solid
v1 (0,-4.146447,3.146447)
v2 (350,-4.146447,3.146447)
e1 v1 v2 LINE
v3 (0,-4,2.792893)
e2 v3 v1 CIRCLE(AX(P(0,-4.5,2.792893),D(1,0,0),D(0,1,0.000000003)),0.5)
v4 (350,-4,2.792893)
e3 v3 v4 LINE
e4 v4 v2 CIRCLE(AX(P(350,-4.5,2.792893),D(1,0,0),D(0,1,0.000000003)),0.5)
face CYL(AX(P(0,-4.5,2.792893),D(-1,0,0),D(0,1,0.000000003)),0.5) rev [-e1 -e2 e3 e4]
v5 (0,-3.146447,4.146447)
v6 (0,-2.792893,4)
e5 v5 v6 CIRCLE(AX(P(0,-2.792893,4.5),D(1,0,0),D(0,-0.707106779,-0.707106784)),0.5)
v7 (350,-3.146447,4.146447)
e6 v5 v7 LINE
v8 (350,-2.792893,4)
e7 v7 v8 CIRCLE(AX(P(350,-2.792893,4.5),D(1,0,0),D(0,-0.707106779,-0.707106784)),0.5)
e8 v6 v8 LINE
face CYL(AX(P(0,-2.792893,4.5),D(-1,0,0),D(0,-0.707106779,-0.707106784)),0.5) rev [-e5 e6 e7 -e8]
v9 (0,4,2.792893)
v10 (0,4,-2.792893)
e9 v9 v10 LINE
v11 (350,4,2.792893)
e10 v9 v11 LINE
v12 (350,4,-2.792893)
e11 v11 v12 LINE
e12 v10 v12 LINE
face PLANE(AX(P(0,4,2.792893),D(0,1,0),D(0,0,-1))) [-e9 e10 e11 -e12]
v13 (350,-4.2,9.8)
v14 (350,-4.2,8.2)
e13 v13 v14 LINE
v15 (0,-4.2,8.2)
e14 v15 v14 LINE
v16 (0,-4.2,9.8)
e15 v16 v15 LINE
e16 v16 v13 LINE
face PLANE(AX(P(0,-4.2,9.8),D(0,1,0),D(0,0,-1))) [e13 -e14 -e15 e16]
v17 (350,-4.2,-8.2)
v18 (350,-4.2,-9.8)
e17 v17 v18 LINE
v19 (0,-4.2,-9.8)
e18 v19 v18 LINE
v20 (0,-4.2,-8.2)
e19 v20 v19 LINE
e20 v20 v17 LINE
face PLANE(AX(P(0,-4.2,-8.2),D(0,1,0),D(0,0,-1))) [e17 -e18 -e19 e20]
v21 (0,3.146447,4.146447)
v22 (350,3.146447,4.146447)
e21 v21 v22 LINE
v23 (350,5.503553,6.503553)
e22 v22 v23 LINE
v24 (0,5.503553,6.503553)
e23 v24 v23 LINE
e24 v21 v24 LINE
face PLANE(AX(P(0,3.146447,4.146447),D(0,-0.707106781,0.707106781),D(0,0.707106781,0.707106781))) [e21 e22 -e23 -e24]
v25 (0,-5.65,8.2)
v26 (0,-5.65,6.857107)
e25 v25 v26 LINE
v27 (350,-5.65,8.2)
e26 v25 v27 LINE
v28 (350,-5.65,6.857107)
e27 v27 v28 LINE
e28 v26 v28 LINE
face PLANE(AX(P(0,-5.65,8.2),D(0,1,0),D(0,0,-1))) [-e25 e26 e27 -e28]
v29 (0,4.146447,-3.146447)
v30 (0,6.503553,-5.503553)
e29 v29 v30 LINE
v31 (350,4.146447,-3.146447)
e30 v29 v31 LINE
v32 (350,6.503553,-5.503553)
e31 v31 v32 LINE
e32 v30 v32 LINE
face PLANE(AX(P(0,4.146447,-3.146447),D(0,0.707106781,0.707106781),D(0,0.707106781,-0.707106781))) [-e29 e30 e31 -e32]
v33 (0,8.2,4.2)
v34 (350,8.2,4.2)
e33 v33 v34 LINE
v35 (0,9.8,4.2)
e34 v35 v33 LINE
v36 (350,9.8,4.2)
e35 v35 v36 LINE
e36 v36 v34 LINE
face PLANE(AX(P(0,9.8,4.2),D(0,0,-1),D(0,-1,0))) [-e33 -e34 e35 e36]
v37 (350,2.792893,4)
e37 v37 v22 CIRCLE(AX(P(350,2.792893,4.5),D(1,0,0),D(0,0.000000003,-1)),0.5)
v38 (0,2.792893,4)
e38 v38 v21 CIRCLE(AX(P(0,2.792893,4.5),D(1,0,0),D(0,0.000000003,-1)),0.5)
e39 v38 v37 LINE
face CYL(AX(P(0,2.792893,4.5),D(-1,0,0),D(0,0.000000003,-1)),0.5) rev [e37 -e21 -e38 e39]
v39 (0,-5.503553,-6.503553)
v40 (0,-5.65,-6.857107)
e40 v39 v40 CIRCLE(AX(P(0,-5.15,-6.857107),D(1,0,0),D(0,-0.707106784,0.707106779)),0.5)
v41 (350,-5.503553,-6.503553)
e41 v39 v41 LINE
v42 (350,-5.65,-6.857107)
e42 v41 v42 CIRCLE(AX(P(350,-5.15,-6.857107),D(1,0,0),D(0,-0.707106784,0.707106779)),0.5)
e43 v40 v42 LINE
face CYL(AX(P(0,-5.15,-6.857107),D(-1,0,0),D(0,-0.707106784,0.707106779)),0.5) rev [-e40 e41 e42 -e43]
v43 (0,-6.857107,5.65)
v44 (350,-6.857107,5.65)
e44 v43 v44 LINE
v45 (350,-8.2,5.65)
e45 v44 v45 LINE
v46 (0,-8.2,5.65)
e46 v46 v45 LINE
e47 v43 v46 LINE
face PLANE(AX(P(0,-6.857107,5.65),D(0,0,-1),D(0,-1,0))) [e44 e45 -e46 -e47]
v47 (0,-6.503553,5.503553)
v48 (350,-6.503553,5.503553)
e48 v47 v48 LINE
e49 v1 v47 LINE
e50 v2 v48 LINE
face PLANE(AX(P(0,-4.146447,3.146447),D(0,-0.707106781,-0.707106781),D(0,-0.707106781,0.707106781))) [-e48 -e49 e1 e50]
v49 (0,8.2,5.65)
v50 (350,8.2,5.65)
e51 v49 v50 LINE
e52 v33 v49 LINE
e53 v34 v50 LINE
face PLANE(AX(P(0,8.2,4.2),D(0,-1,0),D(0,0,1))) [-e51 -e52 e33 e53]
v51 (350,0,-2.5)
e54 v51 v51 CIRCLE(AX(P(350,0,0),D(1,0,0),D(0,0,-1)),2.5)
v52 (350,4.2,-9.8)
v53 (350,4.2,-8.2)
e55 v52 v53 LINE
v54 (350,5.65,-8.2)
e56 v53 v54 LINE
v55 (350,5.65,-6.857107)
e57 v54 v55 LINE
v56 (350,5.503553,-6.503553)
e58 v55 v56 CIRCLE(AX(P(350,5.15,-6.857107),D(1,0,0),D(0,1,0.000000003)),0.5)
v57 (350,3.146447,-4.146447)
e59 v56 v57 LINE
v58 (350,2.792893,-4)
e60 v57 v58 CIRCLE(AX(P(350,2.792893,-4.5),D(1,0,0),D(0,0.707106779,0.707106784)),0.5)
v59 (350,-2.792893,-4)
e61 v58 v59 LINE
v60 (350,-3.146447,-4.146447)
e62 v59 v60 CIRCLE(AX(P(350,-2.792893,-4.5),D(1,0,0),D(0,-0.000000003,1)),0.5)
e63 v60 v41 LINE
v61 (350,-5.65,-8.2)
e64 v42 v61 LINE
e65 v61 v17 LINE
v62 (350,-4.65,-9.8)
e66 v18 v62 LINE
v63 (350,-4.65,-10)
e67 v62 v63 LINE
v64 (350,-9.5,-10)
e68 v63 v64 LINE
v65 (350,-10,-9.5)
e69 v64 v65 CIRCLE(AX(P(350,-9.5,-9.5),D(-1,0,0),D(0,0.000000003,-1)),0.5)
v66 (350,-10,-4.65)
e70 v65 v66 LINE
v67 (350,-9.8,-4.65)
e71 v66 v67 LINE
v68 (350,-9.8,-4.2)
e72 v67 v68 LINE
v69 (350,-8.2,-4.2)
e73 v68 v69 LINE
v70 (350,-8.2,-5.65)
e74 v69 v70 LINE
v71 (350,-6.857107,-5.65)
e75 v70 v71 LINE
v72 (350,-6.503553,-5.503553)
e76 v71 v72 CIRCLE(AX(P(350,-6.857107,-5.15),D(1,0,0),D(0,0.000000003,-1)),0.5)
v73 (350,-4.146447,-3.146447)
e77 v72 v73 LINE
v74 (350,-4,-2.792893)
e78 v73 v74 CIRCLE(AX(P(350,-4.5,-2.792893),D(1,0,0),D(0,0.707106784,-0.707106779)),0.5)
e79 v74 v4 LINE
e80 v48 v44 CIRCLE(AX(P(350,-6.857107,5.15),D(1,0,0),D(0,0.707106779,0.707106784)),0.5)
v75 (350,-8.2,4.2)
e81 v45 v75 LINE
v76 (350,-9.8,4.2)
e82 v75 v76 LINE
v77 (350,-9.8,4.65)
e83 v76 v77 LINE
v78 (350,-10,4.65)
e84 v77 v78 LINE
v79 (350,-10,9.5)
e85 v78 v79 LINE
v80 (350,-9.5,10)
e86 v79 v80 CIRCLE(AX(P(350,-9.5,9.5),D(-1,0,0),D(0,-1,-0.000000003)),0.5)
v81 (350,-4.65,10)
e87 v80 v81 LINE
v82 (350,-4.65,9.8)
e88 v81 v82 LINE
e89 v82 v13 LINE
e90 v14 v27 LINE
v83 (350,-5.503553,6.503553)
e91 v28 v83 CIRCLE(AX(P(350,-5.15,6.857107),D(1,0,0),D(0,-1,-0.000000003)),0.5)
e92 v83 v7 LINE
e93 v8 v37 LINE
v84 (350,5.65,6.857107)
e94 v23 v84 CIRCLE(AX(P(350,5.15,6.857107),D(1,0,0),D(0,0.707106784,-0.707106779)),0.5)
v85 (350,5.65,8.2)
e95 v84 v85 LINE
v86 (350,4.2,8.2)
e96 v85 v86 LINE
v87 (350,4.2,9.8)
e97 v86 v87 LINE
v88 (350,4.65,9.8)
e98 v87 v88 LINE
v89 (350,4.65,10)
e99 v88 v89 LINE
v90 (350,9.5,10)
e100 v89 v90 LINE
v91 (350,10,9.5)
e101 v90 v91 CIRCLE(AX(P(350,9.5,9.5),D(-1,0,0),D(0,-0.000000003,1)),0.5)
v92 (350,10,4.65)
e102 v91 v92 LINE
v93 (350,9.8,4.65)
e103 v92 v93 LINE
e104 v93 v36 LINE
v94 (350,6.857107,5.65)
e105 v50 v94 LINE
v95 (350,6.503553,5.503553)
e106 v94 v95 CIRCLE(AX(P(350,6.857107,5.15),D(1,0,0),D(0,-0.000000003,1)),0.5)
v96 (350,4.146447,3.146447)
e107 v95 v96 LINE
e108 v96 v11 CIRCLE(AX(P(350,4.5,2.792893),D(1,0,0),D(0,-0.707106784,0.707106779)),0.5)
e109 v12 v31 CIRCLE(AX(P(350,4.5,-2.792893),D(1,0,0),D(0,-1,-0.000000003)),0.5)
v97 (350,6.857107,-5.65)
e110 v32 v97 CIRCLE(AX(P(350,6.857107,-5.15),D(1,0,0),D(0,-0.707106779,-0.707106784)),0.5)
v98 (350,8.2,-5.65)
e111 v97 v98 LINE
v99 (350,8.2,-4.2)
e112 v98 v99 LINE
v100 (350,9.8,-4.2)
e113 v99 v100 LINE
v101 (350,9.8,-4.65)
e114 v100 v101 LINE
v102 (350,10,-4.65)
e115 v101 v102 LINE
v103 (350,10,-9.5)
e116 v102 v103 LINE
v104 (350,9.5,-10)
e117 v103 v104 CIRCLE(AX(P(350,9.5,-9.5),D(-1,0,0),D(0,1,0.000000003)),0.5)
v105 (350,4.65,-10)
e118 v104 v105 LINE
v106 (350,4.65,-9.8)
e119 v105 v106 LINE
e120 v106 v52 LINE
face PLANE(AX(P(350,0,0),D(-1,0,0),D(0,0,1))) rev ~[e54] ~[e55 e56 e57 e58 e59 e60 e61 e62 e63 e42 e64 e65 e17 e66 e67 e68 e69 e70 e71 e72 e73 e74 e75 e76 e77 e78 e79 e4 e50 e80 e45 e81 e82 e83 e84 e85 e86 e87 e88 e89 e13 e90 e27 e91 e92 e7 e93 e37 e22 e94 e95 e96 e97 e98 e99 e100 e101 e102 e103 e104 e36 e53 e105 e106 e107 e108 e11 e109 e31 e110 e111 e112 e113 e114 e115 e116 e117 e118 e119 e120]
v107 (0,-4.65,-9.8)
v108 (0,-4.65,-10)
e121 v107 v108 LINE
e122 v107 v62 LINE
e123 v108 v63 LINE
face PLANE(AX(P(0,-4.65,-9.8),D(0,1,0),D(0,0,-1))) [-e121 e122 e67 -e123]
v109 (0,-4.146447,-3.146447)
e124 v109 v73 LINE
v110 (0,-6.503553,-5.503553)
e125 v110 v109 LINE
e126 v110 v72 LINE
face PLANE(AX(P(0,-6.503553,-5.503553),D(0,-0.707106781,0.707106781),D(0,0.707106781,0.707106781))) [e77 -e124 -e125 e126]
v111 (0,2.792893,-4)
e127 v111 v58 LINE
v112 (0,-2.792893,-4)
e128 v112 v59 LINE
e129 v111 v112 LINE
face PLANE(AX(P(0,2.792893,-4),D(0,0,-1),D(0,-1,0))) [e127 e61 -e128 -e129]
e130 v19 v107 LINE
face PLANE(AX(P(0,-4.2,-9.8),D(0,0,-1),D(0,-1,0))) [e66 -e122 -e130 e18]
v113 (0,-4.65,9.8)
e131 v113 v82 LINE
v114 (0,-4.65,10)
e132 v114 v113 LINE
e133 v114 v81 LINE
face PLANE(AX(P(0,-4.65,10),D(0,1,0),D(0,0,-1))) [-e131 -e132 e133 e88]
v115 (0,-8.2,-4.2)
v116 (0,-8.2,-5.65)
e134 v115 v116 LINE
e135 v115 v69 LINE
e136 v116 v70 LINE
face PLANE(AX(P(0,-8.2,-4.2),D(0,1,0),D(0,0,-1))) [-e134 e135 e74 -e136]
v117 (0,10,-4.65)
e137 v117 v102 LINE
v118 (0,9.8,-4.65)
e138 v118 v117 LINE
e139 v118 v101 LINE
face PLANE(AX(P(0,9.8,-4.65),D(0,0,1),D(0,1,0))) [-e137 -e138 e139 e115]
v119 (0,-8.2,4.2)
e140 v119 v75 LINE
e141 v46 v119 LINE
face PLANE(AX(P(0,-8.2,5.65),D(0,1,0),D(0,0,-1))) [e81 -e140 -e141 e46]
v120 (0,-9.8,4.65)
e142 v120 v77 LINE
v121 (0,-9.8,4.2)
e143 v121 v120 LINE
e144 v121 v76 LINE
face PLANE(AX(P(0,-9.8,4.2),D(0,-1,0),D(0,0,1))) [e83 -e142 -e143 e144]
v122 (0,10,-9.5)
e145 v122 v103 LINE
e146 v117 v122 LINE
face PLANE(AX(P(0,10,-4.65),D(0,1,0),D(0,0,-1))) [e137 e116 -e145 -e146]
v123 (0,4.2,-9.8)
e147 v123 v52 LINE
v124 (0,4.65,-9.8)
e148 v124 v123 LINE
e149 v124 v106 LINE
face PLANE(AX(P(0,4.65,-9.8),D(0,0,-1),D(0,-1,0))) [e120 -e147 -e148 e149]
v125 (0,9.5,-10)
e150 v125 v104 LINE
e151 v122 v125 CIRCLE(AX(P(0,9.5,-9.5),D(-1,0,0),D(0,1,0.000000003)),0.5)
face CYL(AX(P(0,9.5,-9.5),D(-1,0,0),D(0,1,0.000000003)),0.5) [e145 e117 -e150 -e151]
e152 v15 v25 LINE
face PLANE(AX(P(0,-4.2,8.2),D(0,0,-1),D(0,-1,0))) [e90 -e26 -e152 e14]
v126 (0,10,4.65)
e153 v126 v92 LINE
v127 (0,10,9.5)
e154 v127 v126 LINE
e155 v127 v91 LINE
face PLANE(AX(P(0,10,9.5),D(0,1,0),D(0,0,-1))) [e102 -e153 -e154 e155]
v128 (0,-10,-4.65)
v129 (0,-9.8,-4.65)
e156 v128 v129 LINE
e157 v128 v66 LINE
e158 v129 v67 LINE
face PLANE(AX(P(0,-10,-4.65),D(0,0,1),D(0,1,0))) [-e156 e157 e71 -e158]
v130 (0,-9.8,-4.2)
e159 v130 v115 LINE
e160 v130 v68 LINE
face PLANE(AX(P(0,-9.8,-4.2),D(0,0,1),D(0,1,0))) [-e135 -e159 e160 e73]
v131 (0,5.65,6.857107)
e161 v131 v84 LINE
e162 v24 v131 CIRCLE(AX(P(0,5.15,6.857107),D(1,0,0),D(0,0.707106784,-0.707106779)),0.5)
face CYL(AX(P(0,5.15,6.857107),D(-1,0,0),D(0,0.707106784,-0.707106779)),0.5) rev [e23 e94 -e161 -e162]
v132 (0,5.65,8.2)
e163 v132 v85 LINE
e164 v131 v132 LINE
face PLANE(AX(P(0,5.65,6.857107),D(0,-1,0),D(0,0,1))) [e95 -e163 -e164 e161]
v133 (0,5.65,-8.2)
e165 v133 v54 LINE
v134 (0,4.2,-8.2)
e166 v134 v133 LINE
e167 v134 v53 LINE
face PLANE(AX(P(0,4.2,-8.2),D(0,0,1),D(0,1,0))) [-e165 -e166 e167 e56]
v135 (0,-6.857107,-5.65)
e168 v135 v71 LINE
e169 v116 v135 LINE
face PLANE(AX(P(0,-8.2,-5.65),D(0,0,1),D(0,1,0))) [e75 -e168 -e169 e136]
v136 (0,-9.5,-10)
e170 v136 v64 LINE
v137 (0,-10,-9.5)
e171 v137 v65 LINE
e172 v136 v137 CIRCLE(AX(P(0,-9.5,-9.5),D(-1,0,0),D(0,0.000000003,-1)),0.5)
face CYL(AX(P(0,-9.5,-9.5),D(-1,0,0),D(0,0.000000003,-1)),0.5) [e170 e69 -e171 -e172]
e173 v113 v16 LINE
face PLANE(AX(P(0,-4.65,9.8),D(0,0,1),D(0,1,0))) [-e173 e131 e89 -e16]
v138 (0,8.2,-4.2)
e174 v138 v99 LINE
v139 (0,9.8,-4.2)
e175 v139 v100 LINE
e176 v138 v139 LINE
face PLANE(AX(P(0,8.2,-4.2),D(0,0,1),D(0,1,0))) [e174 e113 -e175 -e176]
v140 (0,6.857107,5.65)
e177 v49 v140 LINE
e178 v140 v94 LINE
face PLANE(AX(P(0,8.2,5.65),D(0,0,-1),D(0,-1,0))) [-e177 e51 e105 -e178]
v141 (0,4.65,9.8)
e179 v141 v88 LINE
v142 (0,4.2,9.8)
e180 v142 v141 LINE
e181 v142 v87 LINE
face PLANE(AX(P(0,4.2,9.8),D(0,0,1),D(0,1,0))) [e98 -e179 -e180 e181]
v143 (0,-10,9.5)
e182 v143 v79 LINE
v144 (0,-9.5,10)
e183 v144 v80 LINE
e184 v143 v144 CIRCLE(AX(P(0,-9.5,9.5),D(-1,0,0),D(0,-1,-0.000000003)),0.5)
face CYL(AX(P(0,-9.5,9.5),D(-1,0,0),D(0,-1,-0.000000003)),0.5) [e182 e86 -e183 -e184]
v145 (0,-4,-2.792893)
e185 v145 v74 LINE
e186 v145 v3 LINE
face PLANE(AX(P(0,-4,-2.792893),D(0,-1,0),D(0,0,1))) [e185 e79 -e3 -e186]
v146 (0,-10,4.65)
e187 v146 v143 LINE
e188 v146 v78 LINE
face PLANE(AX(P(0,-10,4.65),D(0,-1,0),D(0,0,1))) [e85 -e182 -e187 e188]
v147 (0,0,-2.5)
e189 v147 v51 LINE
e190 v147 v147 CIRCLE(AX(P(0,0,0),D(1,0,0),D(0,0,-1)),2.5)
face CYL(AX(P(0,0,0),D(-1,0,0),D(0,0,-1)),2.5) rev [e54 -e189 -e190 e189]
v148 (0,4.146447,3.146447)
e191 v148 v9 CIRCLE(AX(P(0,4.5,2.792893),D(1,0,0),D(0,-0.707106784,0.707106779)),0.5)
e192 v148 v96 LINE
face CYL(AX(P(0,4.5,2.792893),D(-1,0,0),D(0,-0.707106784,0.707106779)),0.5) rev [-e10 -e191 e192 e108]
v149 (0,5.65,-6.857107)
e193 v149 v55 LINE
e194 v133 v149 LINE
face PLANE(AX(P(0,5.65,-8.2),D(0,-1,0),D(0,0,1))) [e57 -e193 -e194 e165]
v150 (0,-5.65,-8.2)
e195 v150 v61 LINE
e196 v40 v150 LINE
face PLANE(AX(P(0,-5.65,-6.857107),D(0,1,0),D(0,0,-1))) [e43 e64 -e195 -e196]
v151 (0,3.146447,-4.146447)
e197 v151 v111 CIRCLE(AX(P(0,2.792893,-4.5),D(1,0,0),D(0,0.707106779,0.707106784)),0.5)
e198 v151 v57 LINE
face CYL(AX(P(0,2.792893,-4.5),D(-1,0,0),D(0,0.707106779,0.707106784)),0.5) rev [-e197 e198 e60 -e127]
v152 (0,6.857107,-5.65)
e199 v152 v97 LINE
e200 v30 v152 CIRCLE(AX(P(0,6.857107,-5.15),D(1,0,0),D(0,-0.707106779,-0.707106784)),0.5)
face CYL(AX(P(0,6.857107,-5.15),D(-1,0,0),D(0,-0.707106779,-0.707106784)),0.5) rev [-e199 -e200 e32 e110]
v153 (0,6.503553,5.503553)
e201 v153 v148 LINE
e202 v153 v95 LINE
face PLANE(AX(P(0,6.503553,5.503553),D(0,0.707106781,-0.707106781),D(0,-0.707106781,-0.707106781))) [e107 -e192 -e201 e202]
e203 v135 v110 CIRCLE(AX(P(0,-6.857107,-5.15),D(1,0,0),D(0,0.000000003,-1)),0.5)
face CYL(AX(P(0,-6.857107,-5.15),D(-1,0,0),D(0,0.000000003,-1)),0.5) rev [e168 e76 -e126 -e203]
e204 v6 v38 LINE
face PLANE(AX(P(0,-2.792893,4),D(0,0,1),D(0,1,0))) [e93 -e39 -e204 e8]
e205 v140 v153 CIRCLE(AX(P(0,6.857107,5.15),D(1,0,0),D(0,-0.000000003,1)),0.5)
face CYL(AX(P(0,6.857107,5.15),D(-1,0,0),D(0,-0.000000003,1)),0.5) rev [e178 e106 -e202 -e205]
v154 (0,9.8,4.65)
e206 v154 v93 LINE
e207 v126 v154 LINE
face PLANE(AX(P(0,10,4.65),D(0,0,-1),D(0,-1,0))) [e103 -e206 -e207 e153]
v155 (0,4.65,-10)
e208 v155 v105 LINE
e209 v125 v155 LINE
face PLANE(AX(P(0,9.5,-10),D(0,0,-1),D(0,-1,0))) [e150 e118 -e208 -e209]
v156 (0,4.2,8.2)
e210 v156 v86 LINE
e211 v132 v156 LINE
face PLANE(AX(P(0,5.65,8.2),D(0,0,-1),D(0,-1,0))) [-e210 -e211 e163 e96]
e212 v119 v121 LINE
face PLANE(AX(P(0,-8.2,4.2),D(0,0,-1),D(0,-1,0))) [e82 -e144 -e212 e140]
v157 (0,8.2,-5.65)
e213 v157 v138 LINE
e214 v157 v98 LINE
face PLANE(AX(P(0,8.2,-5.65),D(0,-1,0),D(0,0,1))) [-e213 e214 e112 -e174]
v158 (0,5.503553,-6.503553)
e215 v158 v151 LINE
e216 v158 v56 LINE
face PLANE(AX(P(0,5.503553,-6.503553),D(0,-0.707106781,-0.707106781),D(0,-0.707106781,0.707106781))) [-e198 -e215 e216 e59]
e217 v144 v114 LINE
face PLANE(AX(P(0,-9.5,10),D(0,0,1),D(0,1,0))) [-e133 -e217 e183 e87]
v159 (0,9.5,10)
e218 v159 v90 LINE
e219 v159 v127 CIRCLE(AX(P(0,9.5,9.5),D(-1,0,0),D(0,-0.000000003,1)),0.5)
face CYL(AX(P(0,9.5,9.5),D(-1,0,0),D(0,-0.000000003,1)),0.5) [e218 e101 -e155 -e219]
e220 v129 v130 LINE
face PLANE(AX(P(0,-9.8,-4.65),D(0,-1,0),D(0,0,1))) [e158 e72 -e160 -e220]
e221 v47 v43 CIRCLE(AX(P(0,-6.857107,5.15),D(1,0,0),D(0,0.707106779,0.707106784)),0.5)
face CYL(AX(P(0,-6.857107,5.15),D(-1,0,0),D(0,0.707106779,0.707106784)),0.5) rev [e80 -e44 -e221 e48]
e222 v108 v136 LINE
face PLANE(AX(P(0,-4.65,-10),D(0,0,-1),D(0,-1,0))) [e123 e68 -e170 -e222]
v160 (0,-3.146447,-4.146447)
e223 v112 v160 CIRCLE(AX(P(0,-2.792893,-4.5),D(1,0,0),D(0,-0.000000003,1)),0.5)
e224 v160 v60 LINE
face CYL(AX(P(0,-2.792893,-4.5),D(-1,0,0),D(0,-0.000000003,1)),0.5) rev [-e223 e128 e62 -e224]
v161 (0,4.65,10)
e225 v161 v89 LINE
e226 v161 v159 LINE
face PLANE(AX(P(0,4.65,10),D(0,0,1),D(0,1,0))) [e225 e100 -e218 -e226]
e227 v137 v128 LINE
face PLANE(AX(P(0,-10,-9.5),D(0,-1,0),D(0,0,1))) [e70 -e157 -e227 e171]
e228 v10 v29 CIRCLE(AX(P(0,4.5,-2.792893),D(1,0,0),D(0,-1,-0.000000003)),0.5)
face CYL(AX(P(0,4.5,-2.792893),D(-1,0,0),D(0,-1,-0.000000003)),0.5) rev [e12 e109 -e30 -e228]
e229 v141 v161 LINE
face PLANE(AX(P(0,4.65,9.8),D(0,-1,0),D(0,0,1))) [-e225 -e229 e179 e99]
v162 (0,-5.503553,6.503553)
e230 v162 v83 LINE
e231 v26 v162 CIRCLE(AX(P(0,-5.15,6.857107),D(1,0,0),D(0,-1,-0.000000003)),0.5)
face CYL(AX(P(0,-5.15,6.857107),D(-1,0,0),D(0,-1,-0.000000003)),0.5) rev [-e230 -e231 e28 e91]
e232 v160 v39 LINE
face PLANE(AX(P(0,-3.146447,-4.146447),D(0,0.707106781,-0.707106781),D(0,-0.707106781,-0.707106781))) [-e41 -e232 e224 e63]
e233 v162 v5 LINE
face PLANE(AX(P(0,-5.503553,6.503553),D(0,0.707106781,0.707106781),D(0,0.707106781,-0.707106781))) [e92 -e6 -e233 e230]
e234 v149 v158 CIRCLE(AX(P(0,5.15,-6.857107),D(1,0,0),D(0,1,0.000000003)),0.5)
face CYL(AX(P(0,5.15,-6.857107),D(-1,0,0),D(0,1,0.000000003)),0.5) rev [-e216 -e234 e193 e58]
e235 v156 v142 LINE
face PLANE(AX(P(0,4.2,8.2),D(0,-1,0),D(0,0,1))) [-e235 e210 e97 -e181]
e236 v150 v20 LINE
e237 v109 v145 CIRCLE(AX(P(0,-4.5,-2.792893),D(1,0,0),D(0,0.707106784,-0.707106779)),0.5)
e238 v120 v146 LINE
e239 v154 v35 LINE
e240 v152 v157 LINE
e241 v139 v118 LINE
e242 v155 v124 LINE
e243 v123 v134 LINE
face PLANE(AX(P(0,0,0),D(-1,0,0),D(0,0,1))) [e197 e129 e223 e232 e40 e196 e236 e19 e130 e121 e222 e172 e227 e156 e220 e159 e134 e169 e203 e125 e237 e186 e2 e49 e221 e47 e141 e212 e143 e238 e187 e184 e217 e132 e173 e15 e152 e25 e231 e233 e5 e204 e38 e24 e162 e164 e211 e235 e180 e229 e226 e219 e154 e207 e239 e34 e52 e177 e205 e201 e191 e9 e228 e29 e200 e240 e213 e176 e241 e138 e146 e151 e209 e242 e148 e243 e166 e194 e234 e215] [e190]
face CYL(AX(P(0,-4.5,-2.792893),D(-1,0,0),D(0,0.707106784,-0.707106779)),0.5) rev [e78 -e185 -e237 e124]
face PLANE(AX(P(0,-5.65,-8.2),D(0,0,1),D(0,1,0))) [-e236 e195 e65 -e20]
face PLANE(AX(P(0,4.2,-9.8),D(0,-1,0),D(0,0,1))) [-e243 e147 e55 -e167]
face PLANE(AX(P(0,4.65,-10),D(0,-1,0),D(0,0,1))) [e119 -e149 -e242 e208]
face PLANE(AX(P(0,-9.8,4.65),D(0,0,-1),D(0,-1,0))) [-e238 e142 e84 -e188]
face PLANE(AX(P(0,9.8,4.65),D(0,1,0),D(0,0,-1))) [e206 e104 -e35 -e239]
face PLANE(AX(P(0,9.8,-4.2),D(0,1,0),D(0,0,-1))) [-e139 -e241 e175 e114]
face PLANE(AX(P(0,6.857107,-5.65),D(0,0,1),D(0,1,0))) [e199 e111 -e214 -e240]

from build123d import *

# Parameters (mm, degrees)
IZIM1_R             = 2.5
BOSS_EXTRUDE1_DEPTH = 350


with BuildPart() as part:
    # Çizim1 → Boss-Extrude1 (new body)
    with BuildSketch(Plane(origin=(0, 0, 0), x_dir=(0, 0, -1), z_dir=(1, 0, 0))):
        with BuildLine():
            Line((-9.5, 10), (-4.65, 10))
            Line((-4.65, 10), (-4.65, 9.8))
            Line((-4.65, 9.8), (-4.2, 9.8))
            Line((-4.2, 9.8), (-4.2, 8.2))
            Line((-4.2, 8.2), (-5.65, 8.2))
            Line((-5.65, 8.2), (-5.65, 6.857106781))
            ThreePointArc((-5.65, 6.857106781), (-5.611939766, 6.665765065), (-5.503553391, 6.503553391))
            Line((-5.503553391, 6.503553391), (-3.146446609, 4.146446609))
            ThreePointArc((-3.146446609, 4.146446609), (-2.984234935, 4.038060234), (-2.792893219, 4))
            Line((-2.792893219, 4), (2.792893219, 4))
            ThreePointArc((2.792893219, 4), (2.984234935, 4.038060234), (3.146446609, 4.146446609))
            Line((3.146446609, 4.146446609), (5.503553391, 6.503553391))
            ThreePointArc((5.503553391, 6.503553391), (5.611939766, 6.665765065), (5.65, 6.857106781))
            Line((5.65, 6.857106781), (5.65, 8.2))
            Line((5.65, 8.2), (4.2, 8.2))
            Line((4.2, 8.2), (4.2, 9.8))
            Line((4.2, 9.8), (4.65, 9.8))
            Line((4.65, 9.8), (4.65, 10))
            Line((4.65, 10), (9.5, 10))
            ThreePointArc((9.5, 10), (9.853553391, 9.853553391), (10, 9.5))
            Line((10, 9.5), (10, 4.65))
            Line((10, 4.65), (9.8, 4.65))
            Line((9.8, 4.65), (9.8, 4.2))
            Line((9.8, 4.2), (8.2, 4.2))
            Line((8.2, 4.2), (8.2, 5.65))
            Line((8.2, 5.65), (6.857106781, 5.65))
            ThreePointArc((6.857106781, 5.65), (6.665765065, 5.611939766), (6.503553391, 5.503553391))
            Line((6.503553391, 5.503553391), (4.146446609, 3.146446609))
            ThreePointArc((4.146446609, 3.146446609), (4.038060234, 2.984234935), (4, 2.792893219))
            Line((4, 2.792893219), (4, -2.792893219))
            ThreePointArc((4, -2.792893219), (4.038060234, -2.984234935), (4.146446609, -3.146446609))
            Line((4.146446609, -3.146446609), (6.503553391, -5.503553391))
            ThreePointArc((6.503553391, -5.503553391), (6.665765065, -5.611939766), (6.857106781, -5.65))
            Line((6.857106781, -5.65), (8.2, -5.65))
            Line((8.2, -5.65), (8.2, -4.2))
            Line((8.2, -4.2), (9.8, -4.2))
            Line((9.8, -4.2), (9.8, -4.65))
            Line((9.8, -4.65), (10, -4.65))
            Line((10, -4.65), (10, -9.5))
            ThreePointArc((10, -9.5), (9.853553391, -9.853553391), (9.5, -10))
            Line((9.5, -10), (4.65, -10))
            Line((4.65, -10), (4.65, -9.8))
            Line((4.65, -9.8), (4.2, -9.8))
            Line((4.2, -9.8), (4.2, -8.2))
            Line((4.2, -8.2), (5.65, -8.2))
            Line((5.65, -8.2), (5.65, -6.857106781))
            ThreePointArc((5.65, -6.857106781), (5.611939766, -6.665765065), (5.503553391, -6.503553391))
            Line((5.503553391, -6.503553391), (3.146446609, -4.146446609))
            ThreePointArc((3.146446609, -4.146446609), (2.984234935, -4.038060234), (2.792893219, -4))
            Line((2.792893219, -4), (-2.792893219, -4))
            ThreePointArc((-2.792893219, -4), (-2.984234935, -4.038060234), (-3.146446609, -4.146446609))
            Line((-3.146446609, -4.146446609), (-5.503553391, -6.503553391))
            ThreePointArc((-5.503553391, -6.503553391), (-5.611939766, -6.665765065), (-5.65, -6.857106781))
            Line((-5.65, -6.857106781), (-5.65, -8.2))
            Line((-5.65, -8.2), (-4.2, -8.2))
            Line((-4.2, -8.2), (-4.2, -9.8))
            Line((-4.2, -9.8), (-4.65, -9.8))
            Line((-4.65, -9.8), (-4.65, -10))
            Line((-4.65, -10), (-9.5, -10))
            ThreePointArc((-9.5, -10), (-9.853553391, -9.853553391), (-10, -9.5))
            Line((-10, -9.5), (-10, -4.65))
            Line((-10, -4.65), (-9.8, -4.65))
            Line((-9.8, -4.65), (-9.8, -4.2))
            Line((-9.8, -4.2), (-8.2, -4.2))
            Line((-8.2, -4.2), (-8.2, -5.65))
            Line((-8.2, -5.65), (-6.857106781, -5.65))
            ThreePointArc((-6.857106781, -5.65), (-6.665765065, -5.611939766), (-6.503553391, -5.503553391))
            Line((-6.503553391, -5.503553391), (-4.146446609, -3.146446609))
            ThreePointArc((-4.146446609, -3.146446609), (-4.038060234, -2.984234935), (-4, -2.792893219))
            Line((-4, -2.792893219), (-4, 2.792893219))
            ThreePointArc((-4, 2.792893219), (-4.038060234, 2.984234935), (-4.146446609, 3.146446609))
            Line((-4.146446609, 3.146446609), (-6.503553391, 5.503553391))
            ThreePointArc((-6.503553391, 5.503553391), (-6.665765065, 5.611939766), (-6.857106781, 5.65))
            Line((-6.857106781, 5.65), (-8.2, 5.65))
            Line((-8.2, 5.65), (-8.2, 4.2))
            Line((-8.2, 4.2), (-9.8, 4.2))
            Line((-9.8, 4.2), (-9.8, 4.65))
            Line((-9.8, 4.65), (-10, 4.65))
            Line((-10, 4.65), (-10, 9.5))
            ThreePointArc((-10, 9.5), (-9.853553391, 9.853553391), (-9.5, 10))
        make_face()
        Circle(IZIM1_R, mode=Mode.SUBTRACT)
    extrude(amount=BOSS_EXTRUDE1_DEPTH)


solid = part.part
